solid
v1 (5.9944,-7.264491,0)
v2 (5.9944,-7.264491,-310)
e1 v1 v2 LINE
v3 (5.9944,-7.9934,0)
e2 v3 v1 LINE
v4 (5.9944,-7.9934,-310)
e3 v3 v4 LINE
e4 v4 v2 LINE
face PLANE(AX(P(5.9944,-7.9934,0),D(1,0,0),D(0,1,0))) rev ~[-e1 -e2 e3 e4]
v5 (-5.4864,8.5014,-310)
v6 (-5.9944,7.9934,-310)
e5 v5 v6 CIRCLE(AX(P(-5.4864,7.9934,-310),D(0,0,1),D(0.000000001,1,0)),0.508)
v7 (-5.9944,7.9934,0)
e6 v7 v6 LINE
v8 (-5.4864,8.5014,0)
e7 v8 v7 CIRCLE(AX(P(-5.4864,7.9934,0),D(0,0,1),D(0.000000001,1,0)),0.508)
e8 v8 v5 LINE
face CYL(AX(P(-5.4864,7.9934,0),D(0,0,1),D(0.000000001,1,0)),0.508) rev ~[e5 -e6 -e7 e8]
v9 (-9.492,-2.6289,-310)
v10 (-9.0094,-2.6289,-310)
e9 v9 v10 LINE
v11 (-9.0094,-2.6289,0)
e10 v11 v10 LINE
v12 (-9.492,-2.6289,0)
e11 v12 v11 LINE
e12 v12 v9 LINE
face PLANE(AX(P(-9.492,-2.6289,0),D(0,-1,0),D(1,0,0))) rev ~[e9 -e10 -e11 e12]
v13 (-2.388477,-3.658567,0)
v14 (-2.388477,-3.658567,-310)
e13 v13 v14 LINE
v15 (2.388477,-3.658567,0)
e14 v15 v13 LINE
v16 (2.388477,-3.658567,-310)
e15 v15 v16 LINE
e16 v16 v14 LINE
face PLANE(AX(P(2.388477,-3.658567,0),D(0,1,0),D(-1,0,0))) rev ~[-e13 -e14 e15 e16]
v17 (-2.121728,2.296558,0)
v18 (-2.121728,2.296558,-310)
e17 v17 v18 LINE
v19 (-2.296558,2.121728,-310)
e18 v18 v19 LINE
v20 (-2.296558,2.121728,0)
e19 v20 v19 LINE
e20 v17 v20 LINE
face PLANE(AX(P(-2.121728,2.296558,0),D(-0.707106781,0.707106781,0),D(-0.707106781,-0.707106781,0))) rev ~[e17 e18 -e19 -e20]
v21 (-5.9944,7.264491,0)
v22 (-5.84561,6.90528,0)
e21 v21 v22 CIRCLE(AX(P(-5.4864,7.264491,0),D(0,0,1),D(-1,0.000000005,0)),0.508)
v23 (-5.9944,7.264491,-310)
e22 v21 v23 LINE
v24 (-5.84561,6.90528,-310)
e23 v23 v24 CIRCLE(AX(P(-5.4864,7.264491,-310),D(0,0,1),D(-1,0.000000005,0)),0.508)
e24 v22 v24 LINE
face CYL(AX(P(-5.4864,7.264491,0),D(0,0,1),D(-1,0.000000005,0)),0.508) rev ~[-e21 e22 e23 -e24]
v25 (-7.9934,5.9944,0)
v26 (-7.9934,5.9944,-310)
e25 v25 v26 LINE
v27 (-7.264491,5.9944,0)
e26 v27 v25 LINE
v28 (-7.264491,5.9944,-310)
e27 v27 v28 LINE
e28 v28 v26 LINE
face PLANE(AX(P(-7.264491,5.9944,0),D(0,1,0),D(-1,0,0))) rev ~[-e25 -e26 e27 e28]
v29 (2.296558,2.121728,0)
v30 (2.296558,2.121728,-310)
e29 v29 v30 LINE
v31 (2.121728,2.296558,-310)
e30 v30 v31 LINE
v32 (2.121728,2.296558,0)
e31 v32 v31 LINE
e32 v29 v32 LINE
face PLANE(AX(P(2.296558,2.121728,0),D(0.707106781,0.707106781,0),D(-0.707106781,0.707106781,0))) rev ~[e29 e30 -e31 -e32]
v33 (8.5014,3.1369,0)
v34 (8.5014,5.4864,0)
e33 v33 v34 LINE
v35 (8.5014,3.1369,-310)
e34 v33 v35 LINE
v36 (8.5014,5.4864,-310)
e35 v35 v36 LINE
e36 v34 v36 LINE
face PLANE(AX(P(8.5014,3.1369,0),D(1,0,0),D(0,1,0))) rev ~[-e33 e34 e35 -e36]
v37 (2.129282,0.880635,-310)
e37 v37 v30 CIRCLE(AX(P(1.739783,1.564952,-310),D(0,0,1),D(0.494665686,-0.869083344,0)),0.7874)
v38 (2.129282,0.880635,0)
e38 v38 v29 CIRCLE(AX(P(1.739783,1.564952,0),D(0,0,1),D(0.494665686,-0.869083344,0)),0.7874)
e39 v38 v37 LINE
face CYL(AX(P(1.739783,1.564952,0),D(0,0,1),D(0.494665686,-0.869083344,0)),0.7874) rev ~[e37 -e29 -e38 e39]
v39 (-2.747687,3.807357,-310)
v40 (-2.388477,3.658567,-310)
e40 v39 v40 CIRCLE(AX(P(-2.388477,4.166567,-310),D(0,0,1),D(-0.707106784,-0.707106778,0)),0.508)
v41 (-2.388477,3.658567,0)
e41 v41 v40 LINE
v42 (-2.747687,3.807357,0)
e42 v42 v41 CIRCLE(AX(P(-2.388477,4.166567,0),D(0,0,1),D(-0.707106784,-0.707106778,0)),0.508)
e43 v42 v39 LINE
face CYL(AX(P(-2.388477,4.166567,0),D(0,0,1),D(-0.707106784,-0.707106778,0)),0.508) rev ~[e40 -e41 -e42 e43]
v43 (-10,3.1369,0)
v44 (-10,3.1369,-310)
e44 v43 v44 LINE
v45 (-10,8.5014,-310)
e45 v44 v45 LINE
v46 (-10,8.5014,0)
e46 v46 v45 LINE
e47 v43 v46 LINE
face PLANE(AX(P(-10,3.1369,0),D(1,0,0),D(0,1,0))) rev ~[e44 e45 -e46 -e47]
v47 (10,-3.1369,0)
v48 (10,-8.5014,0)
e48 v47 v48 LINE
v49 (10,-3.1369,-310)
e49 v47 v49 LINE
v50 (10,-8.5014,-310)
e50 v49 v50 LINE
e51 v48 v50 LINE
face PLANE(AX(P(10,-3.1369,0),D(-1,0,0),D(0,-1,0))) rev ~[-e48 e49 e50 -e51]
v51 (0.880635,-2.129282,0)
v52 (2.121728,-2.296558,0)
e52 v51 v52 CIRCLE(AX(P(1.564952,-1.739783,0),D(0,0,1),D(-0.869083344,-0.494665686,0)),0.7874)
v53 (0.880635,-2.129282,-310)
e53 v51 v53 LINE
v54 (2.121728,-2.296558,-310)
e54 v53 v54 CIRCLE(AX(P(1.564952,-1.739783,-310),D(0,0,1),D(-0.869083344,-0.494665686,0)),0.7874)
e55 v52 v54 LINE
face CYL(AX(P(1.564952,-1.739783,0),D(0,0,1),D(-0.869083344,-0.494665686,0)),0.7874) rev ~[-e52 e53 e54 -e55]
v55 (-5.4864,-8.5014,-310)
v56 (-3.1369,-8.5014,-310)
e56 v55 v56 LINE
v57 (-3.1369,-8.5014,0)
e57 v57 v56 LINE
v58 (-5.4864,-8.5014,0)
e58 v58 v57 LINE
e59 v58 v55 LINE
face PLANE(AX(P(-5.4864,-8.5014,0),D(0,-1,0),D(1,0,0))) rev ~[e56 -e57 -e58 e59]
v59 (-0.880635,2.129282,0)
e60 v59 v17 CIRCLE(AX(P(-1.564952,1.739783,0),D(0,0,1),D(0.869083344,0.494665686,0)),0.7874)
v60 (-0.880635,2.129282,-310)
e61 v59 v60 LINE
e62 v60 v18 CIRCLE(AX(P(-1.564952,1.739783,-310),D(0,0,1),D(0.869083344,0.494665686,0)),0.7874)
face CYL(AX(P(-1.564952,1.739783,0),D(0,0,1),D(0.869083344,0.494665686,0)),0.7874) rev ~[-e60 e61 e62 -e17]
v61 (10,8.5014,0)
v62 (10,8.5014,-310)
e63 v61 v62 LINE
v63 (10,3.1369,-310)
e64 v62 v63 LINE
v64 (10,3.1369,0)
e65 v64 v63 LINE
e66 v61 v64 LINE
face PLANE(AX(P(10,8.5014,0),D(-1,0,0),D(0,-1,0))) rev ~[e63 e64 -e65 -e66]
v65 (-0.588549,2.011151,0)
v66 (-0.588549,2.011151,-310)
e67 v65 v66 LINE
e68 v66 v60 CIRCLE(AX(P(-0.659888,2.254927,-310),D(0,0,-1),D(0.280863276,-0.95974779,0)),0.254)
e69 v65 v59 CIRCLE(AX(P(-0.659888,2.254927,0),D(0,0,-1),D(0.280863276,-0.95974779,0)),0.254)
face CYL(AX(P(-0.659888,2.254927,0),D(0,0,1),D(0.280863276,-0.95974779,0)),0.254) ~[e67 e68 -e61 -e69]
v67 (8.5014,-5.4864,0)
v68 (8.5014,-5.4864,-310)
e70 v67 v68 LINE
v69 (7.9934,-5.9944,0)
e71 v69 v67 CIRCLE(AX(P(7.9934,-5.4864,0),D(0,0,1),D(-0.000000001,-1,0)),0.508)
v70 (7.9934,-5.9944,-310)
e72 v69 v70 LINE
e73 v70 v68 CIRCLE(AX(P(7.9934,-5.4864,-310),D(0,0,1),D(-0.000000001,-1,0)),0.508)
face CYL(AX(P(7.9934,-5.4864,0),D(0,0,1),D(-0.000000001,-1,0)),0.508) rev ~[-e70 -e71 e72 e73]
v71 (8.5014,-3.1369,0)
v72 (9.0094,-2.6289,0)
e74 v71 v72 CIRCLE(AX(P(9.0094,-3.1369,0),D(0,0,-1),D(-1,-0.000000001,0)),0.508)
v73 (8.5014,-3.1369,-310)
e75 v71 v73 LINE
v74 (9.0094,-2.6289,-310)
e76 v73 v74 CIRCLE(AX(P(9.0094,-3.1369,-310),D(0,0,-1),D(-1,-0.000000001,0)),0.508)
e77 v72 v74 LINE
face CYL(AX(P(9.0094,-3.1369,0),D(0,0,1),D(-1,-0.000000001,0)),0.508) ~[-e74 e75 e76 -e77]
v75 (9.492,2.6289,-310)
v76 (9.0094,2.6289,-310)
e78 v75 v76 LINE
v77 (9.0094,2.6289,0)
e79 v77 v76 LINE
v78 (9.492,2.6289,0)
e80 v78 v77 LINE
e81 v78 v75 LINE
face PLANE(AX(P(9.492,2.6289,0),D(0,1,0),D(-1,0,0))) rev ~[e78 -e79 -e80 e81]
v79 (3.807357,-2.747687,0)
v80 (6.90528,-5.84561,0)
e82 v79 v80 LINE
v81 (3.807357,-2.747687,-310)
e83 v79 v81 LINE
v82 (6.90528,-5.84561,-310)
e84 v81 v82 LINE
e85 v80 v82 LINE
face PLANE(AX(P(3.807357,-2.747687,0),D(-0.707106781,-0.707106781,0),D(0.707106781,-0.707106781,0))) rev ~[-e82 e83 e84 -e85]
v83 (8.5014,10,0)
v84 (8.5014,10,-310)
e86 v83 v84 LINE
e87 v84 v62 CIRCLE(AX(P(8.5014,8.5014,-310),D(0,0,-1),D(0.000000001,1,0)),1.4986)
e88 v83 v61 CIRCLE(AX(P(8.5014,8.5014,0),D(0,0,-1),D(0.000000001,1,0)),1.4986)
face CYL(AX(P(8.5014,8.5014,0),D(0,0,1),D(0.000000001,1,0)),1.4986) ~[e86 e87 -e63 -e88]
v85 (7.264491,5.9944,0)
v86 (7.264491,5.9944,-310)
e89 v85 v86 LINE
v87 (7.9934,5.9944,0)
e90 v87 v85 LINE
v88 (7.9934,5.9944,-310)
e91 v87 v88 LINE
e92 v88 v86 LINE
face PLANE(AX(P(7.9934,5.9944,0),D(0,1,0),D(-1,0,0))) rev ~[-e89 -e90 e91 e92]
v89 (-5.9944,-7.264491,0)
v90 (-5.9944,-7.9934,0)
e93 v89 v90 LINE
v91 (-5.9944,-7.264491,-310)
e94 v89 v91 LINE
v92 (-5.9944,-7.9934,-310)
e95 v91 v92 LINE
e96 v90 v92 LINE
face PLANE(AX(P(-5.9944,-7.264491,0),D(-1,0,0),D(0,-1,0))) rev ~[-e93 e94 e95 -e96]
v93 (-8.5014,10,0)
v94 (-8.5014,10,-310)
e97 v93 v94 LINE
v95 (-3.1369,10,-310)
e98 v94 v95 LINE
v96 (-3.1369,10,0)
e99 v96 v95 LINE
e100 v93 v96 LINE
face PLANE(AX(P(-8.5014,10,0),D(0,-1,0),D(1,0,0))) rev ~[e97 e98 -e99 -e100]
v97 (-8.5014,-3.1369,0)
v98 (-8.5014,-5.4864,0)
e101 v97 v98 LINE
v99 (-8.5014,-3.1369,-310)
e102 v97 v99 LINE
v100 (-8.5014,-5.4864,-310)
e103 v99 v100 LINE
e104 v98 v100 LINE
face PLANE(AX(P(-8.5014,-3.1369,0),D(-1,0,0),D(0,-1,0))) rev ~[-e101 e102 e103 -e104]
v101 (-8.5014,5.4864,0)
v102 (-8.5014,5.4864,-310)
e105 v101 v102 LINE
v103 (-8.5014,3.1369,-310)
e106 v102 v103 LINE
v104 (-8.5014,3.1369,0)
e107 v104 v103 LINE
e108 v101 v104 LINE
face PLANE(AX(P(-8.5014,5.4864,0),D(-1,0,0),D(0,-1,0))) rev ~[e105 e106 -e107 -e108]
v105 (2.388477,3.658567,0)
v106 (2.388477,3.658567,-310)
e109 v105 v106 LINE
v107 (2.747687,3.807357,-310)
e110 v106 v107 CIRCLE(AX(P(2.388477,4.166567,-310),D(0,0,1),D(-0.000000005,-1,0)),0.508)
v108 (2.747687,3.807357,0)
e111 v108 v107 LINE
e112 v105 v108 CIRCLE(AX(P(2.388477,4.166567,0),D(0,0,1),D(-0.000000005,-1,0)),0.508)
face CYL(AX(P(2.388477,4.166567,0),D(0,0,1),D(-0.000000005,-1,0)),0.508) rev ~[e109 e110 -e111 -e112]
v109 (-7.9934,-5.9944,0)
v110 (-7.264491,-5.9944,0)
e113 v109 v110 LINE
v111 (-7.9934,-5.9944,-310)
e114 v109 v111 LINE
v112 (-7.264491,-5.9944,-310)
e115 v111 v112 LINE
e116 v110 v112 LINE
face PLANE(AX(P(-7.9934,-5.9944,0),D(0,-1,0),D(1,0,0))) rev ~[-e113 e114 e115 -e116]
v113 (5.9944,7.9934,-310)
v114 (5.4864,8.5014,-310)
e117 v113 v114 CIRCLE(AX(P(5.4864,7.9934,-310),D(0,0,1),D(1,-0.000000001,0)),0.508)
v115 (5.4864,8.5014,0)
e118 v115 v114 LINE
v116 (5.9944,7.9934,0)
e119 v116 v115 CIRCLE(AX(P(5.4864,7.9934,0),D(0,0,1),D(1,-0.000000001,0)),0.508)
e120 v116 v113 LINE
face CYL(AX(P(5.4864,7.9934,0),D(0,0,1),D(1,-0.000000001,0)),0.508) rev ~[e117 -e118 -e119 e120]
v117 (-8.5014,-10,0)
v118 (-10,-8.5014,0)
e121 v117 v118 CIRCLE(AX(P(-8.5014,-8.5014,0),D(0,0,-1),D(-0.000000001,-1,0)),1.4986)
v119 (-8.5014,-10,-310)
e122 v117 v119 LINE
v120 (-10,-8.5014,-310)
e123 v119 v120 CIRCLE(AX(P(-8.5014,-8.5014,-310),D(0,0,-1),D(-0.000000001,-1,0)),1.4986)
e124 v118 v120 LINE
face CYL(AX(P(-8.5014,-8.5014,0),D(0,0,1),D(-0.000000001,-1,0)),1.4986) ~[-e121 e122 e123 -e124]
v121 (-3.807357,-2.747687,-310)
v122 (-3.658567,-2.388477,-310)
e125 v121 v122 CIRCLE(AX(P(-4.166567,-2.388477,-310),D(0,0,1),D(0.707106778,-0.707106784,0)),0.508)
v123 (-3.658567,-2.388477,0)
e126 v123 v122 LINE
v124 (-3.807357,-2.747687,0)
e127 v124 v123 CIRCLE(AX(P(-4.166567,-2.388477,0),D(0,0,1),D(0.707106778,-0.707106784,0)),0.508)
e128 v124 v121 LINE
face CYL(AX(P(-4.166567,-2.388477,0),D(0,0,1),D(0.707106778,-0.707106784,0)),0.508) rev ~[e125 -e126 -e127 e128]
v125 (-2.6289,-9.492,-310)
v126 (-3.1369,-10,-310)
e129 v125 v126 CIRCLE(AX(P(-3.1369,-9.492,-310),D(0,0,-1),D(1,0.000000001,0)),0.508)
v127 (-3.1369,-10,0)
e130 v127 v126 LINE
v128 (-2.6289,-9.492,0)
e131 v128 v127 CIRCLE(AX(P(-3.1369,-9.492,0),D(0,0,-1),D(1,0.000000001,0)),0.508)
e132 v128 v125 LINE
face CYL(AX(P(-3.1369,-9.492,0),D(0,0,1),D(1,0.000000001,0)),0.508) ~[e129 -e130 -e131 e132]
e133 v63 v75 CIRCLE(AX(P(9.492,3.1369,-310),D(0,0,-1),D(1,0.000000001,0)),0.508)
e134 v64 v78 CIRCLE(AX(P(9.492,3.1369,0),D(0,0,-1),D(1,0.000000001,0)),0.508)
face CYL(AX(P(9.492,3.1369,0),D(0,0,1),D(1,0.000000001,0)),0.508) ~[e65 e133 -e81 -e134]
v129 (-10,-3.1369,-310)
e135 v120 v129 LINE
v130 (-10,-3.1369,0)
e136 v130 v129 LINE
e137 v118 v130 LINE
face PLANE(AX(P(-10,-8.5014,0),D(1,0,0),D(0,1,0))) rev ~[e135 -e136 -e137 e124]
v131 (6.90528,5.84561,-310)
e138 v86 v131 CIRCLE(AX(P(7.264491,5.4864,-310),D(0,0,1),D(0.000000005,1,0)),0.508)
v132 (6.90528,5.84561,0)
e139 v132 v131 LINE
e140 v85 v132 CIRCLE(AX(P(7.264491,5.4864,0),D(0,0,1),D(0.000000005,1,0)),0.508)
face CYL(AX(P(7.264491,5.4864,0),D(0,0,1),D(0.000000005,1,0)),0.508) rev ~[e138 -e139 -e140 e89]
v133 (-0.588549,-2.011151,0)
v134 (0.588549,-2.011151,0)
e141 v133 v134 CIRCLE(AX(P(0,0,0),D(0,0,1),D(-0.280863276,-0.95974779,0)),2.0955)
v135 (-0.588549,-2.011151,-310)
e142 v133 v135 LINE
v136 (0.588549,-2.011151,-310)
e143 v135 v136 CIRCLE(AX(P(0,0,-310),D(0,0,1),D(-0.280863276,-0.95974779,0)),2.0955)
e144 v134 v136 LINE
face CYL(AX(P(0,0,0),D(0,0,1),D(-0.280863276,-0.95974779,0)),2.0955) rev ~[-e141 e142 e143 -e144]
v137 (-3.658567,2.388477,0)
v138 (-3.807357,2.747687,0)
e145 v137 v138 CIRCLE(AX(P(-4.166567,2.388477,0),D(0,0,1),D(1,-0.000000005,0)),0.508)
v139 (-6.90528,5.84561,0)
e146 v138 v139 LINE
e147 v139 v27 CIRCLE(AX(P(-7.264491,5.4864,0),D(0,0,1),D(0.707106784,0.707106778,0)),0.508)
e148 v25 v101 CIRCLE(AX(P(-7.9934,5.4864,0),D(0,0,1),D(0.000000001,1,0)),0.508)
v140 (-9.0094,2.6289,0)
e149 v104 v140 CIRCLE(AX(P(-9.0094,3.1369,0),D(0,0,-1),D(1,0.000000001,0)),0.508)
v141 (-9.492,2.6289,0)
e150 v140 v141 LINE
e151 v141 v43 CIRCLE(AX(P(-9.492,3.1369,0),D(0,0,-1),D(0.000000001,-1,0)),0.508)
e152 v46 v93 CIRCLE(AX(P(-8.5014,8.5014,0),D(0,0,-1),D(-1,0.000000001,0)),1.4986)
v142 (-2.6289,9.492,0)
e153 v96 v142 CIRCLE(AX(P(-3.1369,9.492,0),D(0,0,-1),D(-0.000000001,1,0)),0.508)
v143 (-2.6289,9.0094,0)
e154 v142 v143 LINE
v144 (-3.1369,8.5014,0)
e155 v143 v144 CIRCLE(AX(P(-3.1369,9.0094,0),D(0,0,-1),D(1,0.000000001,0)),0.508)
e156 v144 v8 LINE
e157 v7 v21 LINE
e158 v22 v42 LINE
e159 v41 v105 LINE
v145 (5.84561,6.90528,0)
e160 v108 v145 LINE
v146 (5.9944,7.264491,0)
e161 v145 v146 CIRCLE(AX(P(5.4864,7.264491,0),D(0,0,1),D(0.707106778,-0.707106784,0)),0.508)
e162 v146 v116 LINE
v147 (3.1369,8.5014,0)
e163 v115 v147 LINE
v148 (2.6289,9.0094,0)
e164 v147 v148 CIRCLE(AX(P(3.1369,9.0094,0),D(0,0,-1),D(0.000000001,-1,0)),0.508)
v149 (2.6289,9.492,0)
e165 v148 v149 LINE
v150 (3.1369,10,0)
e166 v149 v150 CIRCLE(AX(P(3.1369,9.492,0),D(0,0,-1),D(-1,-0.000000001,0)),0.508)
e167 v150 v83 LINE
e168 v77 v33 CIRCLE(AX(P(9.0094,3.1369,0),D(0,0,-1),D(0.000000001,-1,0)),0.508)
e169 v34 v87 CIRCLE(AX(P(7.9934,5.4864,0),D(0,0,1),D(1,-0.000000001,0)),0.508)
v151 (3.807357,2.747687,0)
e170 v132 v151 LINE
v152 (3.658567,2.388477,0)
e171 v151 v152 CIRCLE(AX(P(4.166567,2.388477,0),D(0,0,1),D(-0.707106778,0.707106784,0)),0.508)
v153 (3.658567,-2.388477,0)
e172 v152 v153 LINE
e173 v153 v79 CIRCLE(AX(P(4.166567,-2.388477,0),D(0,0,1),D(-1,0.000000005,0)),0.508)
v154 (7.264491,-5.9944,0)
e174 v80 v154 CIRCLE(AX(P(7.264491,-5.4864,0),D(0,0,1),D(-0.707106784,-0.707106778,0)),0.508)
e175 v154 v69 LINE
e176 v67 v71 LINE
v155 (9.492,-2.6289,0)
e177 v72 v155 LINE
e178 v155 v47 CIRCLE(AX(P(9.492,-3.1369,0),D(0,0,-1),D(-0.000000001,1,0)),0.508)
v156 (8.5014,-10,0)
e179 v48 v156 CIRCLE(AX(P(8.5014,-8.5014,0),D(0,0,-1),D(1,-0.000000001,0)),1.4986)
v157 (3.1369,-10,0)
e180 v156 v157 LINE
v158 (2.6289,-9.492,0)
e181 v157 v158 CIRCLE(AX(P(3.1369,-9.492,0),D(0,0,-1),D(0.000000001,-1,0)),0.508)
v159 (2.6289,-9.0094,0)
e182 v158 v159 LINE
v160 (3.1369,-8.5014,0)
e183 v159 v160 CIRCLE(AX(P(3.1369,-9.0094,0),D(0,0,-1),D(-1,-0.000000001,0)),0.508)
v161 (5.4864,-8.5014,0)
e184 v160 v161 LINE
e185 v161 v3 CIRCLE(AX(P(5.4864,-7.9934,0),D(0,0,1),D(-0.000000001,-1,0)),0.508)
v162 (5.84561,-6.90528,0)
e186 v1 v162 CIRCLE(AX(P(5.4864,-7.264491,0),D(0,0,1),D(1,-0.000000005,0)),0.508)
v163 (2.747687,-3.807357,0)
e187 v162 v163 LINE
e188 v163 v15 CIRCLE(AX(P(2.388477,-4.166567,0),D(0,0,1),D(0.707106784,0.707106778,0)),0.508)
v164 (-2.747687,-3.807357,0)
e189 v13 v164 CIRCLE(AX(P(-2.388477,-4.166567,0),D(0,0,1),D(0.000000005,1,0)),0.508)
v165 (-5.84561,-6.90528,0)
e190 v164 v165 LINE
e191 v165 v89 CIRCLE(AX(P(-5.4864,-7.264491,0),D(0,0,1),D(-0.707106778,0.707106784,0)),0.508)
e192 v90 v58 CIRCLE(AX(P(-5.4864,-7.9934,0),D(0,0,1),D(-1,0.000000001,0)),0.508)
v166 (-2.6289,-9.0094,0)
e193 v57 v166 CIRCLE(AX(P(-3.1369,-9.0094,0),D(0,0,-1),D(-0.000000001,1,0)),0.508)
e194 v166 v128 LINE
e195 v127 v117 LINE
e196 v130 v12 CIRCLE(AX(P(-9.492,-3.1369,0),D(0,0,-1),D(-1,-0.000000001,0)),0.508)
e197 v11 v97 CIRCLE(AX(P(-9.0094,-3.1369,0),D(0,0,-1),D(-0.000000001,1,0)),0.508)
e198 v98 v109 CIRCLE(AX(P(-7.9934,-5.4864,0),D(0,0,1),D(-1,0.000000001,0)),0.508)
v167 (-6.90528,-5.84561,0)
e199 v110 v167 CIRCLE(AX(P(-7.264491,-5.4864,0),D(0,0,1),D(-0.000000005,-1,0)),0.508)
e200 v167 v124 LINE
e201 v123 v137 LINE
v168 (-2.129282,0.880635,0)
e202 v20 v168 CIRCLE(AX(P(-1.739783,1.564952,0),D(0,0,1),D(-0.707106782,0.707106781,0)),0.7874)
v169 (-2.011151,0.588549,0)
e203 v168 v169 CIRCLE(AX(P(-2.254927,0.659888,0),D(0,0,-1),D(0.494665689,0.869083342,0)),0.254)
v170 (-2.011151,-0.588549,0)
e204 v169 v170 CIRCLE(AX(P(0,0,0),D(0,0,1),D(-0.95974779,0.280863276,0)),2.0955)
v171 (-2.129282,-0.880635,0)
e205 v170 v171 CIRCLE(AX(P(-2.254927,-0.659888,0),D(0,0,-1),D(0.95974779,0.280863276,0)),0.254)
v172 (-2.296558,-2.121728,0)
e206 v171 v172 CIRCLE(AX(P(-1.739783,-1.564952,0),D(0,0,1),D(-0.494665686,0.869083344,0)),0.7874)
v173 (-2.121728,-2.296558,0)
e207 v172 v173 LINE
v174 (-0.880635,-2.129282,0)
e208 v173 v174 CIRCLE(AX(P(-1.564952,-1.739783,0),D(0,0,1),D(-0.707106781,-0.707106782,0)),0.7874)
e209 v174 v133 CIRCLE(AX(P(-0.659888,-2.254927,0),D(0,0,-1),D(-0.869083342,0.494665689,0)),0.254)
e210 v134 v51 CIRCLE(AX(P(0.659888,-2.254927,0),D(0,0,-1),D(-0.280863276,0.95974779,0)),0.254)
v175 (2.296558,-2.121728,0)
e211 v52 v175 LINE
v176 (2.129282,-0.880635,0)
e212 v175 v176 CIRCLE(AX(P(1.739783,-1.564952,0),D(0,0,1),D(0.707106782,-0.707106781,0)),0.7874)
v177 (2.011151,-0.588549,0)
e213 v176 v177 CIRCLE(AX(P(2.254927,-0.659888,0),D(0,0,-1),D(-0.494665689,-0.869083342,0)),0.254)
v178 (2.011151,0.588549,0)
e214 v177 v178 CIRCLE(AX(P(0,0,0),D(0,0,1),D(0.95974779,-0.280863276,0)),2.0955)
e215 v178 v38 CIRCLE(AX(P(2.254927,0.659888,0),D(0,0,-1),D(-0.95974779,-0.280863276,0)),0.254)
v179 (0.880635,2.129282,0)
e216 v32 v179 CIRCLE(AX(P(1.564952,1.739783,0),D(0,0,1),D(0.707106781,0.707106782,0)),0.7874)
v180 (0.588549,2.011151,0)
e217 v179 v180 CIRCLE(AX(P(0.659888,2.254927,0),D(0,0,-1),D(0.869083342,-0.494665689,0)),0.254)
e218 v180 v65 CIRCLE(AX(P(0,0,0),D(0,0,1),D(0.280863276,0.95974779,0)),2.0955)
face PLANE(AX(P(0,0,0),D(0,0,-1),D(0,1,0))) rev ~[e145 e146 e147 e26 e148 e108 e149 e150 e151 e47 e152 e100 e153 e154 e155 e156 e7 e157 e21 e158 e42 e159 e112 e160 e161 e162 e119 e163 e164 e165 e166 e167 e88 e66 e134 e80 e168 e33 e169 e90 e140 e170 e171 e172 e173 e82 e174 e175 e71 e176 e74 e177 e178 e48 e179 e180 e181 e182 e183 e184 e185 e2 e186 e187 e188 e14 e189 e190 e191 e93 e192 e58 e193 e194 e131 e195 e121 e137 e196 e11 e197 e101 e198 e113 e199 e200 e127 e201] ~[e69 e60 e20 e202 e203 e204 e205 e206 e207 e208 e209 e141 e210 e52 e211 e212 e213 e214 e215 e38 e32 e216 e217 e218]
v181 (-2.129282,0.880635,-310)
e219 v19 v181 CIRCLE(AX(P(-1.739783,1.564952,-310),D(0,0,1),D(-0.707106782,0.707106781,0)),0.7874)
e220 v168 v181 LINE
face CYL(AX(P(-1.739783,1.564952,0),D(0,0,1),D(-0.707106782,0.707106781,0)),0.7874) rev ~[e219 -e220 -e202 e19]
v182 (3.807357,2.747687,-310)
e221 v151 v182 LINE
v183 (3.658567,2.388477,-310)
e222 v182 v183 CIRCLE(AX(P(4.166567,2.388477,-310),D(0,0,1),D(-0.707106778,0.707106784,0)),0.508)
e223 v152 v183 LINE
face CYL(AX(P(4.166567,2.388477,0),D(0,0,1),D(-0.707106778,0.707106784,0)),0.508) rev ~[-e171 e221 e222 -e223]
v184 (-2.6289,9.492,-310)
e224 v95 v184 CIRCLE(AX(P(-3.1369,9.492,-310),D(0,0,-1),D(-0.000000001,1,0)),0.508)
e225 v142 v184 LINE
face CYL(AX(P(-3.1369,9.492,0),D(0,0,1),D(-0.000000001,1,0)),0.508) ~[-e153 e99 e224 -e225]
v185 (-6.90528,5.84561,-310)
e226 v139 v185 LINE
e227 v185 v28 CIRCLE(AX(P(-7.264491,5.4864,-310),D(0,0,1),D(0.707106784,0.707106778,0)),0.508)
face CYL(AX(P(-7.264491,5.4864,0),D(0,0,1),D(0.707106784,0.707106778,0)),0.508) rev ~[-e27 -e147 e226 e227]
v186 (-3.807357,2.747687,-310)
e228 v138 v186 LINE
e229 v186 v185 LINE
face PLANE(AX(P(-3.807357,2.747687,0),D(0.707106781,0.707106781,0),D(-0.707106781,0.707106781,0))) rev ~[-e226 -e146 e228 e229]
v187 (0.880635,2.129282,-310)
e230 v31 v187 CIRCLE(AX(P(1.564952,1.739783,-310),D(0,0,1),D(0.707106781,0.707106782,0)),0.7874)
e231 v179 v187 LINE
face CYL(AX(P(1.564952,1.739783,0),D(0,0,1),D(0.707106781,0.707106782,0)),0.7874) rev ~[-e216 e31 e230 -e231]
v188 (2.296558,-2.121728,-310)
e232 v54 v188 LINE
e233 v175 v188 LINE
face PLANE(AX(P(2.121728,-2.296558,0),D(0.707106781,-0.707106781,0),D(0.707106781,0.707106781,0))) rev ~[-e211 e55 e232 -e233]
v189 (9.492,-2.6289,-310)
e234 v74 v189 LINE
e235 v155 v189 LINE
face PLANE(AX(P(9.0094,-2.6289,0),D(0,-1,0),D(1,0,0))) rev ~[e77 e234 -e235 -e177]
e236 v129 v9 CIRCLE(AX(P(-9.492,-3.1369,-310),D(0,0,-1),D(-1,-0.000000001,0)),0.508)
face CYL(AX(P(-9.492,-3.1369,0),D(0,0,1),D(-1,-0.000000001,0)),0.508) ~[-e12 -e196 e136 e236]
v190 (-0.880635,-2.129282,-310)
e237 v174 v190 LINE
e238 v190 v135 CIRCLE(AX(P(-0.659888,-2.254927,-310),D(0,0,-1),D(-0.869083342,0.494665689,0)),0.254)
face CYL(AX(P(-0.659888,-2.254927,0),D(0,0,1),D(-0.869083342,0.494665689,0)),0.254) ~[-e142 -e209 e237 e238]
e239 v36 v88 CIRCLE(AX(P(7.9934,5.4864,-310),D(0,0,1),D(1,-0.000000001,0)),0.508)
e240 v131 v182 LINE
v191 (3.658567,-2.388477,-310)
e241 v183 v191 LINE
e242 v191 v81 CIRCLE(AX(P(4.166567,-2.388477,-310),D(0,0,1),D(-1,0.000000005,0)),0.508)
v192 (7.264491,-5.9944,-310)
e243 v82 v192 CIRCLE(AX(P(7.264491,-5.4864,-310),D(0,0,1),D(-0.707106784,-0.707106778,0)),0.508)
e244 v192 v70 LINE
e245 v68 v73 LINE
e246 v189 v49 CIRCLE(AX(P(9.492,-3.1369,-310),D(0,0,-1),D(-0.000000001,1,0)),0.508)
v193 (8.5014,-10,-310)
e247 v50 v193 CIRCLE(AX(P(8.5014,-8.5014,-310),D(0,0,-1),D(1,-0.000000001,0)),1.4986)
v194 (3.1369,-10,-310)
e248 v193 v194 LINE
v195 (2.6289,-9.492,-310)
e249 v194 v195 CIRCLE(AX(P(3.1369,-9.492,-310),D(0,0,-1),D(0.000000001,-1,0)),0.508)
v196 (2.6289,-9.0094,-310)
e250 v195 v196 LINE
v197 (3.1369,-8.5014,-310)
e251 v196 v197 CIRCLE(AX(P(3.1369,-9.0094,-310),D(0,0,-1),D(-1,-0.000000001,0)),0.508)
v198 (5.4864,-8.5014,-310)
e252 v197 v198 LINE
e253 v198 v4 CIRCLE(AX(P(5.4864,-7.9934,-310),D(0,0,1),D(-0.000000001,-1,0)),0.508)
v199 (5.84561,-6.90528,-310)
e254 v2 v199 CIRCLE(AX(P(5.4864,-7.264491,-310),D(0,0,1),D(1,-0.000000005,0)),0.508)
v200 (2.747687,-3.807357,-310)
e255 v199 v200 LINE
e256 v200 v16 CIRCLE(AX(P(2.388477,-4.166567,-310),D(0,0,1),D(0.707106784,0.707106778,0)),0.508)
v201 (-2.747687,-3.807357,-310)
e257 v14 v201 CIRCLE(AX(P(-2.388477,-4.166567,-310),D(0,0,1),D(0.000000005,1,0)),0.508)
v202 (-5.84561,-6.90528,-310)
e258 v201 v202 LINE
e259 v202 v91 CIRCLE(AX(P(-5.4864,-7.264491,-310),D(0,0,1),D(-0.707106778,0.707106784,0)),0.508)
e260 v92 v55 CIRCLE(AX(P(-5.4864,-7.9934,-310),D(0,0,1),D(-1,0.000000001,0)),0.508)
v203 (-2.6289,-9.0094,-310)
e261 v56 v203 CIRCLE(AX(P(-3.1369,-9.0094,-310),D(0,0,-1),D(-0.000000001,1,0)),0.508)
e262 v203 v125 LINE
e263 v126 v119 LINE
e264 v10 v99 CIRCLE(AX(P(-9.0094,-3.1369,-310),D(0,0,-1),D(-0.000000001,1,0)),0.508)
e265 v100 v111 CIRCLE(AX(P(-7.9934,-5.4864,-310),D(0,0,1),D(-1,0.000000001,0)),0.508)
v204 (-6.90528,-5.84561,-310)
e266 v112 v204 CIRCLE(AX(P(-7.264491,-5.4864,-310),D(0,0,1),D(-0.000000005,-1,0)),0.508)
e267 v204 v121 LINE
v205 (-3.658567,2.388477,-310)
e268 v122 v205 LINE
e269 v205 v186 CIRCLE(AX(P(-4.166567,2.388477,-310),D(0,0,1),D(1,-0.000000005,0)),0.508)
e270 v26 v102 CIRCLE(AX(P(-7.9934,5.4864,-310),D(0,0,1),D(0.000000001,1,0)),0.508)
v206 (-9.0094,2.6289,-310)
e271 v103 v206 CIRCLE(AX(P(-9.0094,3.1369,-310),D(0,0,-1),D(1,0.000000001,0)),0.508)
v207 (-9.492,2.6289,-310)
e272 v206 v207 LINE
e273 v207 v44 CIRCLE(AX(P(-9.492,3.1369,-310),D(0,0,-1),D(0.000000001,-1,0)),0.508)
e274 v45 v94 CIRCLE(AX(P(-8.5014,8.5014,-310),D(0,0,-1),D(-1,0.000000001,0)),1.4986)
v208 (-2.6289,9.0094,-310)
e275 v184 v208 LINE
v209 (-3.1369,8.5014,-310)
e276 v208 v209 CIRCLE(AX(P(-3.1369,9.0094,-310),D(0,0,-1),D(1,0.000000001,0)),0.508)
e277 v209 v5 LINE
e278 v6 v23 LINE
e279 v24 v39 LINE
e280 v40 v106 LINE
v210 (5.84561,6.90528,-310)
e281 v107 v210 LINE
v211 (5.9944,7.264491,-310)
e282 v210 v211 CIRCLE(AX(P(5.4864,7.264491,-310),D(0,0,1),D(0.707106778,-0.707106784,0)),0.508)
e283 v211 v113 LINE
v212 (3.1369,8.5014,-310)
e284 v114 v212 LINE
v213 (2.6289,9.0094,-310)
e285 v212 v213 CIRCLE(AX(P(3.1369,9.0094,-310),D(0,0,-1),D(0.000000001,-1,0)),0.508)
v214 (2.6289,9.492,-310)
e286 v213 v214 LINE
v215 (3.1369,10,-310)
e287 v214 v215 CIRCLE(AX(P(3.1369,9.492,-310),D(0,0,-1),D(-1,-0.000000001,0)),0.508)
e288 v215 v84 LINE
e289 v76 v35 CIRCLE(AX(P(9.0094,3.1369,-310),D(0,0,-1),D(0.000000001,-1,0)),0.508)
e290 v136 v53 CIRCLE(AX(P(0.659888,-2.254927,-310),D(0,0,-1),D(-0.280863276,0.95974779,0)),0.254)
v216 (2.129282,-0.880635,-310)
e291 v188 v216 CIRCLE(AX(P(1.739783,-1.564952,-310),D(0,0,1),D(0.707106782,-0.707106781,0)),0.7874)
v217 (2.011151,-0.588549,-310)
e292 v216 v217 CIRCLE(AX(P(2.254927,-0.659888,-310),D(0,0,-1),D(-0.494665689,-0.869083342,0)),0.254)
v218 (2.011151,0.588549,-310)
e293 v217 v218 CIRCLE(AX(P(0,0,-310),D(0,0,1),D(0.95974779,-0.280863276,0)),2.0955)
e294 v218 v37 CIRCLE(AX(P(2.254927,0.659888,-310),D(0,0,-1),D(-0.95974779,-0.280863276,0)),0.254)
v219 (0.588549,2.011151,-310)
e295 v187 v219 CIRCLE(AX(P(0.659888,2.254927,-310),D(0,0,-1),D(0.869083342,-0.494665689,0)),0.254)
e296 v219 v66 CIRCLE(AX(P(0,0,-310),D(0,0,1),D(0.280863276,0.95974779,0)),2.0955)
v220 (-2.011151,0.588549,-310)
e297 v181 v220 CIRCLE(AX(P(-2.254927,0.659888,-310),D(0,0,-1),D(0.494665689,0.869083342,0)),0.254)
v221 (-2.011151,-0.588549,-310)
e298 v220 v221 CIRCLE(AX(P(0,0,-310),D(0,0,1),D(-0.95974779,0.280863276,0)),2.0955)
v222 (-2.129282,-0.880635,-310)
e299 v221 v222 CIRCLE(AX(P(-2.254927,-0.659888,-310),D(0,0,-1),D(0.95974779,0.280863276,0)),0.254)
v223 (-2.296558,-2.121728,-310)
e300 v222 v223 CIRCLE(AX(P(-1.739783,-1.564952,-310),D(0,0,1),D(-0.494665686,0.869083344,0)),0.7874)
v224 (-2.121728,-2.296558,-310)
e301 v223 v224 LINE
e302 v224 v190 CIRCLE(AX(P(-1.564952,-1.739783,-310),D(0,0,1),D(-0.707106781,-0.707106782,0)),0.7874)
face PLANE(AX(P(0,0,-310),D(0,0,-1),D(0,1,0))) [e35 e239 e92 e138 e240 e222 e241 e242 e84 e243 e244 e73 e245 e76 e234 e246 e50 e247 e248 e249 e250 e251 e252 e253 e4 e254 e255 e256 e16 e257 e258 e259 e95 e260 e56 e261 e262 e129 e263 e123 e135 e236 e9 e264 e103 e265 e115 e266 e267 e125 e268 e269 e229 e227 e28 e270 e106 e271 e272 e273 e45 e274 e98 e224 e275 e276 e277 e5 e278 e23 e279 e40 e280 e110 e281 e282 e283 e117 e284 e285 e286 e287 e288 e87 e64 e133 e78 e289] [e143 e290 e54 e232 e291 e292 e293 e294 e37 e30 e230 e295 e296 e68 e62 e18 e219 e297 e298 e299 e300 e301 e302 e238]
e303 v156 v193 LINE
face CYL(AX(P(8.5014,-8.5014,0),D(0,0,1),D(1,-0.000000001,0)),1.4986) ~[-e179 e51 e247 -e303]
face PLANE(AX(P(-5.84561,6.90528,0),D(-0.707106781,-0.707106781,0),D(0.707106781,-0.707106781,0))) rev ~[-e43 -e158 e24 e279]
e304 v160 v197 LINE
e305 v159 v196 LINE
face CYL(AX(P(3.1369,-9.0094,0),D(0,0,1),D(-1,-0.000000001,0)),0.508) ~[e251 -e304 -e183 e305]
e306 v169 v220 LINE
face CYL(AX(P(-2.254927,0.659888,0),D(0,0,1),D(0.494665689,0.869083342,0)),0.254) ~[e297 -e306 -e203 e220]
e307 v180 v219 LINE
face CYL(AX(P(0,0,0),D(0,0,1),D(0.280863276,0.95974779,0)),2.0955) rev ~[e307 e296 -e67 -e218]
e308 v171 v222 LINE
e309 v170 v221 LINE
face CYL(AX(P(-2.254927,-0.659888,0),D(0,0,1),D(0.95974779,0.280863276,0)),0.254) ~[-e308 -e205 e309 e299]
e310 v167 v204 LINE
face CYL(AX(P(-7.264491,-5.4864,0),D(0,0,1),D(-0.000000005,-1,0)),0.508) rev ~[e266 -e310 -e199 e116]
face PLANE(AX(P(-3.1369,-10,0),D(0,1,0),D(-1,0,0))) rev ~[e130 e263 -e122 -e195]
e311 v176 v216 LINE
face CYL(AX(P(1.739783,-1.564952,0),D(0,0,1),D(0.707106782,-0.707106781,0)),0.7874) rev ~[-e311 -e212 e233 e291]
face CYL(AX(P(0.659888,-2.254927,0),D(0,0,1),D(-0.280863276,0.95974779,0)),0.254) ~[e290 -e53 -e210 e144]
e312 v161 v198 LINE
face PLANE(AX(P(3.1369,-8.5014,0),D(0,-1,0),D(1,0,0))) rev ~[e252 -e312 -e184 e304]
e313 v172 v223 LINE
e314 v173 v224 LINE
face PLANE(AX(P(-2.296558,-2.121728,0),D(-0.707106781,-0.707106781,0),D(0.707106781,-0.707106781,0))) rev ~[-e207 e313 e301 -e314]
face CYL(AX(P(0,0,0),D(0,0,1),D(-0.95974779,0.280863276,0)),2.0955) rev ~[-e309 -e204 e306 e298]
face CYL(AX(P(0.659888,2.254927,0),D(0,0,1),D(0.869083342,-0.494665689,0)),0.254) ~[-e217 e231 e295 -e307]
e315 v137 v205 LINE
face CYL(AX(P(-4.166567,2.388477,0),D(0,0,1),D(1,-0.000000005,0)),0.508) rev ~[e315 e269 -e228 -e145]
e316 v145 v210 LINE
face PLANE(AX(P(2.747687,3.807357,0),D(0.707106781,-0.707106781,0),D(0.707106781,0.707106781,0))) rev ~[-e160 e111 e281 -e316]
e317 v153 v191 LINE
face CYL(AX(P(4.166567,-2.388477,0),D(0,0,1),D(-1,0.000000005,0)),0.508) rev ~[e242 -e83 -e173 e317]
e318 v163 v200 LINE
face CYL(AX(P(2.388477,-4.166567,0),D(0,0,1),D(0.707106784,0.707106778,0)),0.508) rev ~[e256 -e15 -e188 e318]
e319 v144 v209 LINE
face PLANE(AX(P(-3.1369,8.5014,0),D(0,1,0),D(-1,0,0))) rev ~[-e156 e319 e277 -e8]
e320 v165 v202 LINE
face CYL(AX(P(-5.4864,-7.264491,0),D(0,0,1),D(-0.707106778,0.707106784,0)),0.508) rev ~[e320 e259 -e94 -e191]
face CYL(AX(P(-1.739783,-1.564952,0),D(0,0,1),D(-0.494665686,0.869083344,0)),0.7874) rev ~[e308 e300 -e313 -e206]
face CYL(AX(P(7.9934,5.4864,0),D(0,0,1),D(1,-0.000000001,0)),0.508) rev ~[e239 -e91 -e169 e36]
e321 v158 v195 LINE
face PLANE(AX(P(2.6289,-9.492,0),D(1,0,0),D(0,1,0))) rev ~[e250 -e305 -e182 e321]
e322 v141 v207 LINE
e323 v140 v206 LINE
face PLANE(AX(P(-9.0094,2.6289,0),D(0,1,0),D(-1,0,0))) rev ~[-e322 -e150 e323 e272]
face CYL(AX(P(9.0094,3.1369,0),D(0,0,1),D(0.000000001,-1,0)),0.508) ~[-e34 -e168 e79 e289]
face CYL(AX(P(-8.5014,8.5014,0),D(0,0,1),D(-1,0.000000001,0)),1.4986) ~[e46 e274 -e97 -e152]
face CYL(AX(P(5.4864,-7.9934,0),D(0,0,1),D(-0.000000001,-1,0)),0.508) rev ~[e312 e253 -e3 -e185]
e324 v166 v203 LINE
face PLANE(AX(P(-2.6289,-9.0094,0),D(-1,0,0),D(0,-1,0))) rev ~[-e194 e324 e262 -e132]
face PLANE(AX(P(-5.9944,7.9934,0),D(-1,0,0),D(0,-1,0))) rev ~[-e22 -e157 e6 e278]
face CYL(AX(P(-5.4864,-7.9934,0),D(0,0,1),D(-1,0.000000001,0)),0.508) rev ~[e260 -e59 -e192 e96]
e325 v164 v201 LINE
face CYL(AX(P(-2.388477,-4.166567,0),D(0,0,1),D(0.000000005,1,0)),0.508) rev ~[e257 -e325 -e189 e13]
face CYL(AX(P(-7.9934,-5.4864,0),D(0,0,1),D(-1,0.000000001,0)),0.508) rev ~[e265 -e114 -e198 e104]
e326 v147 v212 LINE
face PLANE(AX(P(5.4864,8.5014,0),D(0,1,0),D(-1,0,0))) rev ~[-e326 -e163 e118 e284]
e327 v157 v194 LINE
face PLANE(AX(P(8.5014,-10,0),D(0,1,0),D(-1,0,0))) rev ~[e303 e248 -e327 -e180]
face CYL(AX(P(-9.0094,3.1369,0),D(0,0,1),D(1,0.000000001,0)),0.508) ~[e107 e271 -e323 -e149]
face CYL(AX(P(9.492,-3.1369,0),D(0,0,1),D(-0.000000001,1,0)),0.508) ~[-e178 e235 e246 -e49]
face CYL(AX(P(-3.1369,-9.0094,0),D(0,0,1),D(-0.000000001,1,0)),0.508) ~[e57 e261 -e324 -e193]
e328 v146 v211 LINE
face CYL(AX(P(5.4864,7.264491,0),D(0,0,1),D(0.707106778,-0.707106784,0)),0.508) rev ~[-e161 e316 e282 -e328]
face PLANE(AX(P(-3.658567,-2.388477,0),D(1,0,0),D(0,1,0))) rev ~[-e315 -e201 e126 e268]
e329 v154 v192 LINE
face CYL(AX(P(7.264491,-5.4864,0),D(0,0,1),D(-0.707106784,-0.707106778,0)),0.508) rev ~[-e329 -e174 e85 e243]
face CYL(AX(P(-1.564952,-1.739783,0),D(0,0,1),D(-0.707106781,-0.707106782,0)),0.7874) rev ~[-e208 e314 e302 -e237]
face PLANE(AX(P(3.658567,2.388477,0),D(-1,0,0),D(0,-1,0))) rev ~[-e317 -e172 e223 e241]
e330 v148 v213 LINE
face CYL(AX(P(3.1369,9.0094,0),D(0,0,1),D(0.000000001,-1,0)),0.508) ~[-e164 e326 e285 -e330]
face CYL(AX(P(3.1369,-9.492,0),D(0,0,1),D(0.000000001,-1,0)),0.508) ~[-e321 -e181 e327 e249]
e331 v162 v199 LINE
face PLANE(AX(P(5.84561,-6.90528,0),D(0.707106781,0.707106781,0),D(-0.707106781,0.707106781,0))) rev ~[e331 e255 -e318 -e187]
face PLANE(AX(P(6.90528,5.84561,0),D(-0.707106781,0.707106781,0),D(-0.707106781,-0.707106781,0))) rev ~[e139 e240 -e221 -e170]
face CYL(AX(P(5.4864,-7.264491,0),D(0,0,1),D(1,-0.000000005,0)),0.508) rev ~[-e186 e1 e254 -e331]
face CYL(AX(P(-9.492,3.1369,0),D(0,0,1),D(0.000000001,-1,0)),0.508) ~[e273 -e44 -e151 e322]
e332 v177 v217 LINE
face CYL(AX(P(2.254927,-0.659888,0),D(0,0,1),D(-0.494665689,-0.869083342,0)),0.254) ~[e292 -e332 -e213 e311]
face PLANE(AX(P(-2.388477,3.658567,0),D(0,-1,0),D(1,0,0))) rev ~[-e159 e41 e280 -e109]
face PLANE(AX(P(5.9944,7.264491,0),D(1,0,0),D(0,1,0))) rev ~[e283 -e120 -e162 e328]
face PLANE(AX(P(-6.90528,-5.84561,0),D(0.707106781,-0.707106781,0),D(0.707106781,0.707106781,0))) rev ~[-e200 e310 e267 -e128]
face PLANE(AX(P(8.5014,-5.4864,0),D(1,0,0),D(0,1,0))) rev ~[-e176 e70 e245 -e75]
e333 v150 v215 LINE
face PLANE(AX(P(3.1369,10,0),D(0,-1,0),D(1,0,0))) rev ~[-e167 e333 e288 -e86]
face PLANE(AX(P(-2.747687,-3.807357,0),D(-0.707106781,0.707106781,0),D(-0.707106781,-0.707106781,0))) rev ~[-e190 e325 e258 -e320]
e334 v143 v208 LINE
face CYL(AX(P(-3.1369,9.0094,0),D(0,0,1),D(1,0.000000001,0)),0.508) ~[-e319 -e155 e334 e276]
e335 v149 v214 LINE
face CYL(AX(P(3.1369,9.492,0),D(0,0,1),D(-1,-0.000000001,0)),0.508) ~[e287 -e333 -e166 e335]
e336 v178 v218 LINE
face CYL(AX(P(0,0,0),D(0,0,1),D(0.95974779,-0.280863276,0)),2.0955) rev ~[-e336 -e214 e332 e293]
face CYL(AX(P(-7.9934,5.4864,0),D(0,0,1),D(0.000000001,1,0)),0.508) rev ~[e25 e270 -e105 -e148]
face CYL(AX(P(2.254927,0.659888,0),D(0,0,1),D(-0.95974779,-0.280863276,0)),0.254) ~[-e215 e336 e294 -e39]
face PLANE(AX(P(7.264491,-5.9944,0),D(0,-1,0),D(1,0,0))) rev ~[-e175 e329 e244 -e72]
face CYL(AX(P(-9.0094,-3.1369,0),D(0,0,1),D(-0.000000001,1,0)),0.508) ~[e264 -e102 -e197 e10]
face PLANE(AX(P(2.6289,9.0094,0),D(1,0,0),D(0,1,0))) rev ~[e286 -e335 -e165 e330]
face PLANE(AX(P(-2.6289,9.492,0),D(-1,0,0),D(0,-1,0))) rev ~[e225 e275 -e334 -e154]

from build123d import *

# Parameters (mm, degrees)
F_20_SERIES_20_2020_1_DEPTH = 310


with BuildPart() as part:
    # Sketch11 → 20_series 20-2020(1) (new body)
    with BuildSketch(Plane.YX):
        with BuildLine():
            Line((9.0094, 2.6289), (9.492, 2.6289))
            ThreePointArc((9.492, 2.6289), (9.851210245, 2.777689755), (10, 3.1369))
            Line((10, 3.1369), (10, 8.5014))
            ThreePointArc((10, 8.5014), (9.561070222, 9.561070222), (8.5014, 10))
            Line((8.5014, 10), (3.1369, 10))
            ThreePointArc((3.1369, 10), (2.777689755, 9.851210245), (2.6289, 9.492))
            Line((2.6289, 9.492), (2.6289, 9.0094))
            ThreePointArc((2.6289, 9.0094), (2.777689755, 8.650189755), (3.1369, 8.5014))
            Line((3.1369, 8.5014), (5.4864, 8.5014))
            ThreePointArc((5.4864, 8.5014), (5.845610245, 8.352610245), (5.9944, 7.9934))
            Line((5.9944, 7.9934), (5.9944, 7.264490712))
            ThreePointArc((5.9944, 7.264490712), (5.955730803, 7.070087528), (5.845610245, 6.905280467))
            Line((5.845610245, 6.905280467), (2.747686782, 3.807357004))
            ThreePointArc((2.747686782, 3.807357004), (2.582879721, 3.697236446), (2.388476537, 3.658567249))
            Line((2.388476537, 3.658567249), (-2.388476537, 3.658567249))
            ThreePointArc((-2.388476537, 3.658567249), (-2.582879721, 3.697236446), (-2.747686782, 3.807357004))
            Line((-2.747686782, 3.807357004), (-5.845610245, 6.905280467))
            ThreePointArc((-5.845610245, 6.905280467), (-5.955730803, 7.070087528), (-5.9944, 7.264490712))
            Line((-5.9944, 7.264490712), (-5.9944, 7.9934))
            ThreePointArc((-5.9944, 7.9934), (-5.845610245, 8.352610245), (-5.4864, 8.5014))
            Line((-5.4864, 8.5014), (-3.1369, 8.5014))
            ThreePointArc((-3.1369, 8.5014), (-2.777689755, 8.650189755), (-2.6289, 9.0094))
            Line((-2.6289, 9.0094), (-2.6289, 9.492))
            ThreePointArc((-2.6289, 9.492), (-2.777689755, 9.851210245), (-3.1369, 10))
            Line((-3.1369, 10), (-8.5014, 10))
            ThreePointArc((-8.5014, 10), (-9.561070222, 9.561070222), (-10, 8.5014))
            Line((-10, 8.5014), (-10, 3.1369))
            ThreePointArc((-10, 3.1369), (-9.851210245, 2.777689755), (-9.492, 2.6289))
            Line((-9.492, 2.6289), (-9.0094, 2.6289))
            ThreePointArc((-9.0094, 2.6289), (-8.650189755, 2.777689755), (-8.5014, 3.1369))
            Line((-8.5014, 3.1369), (-8.5014, 5.4864))
            ThreePointArc((-8.5014, 5.4864), (-8.352610245, 5.845610245), (-7.9934, 5.9944))
            Line((-7.9934, 5.9944), (-7.264490712, 5.9944))
            ThreePointArc((-7.264490712, 5.9944), (-7.070087528, 5.955730803), (-6.905280467, 5.845610245))
            Line((-6.905280467, 5.845610245), (-3.807357004, 2.747686782))
            ThreePointArc((-3.807357004, 2.747686782), (-3.697236446, 2.582879721), (-3.658567249, 2.388476537))
            Line((-3.658567249, 2.388476537), (-3.658567249, -2.388476537))
            ThreePointArc((-3.658567249, -2.388476537), (-3.697236446, -2.582879721), (-3.807357004, -2.747686782))
            Line((-3.807357004, -2.747686782), (-6.905280467, -5.845610245))
            ThreePointArc((-6.905280467, -5.845610245), (-7.070087528, -5.955730803), (-7.264490712, -5.9944))
            Line((-7.264490712, -5.9944), (-7.9934, -5.9944))
            ThreePointArc((-7.9934, -5.9944), (-8.352610245, -5.845610245), (-8.5014, -5.4864))
            Line((-8.5014, -5.4864), (-8.5014, -3.1369))
            ThreePointArc((-8.5014, -3.1369), (-8.650189755, -2.777689755), (-9.0094, -2.6289))
            Line((-9.0094, -2.6289), (-9.492, -2.6289))
            ThreePointArc((-9.492, -2.6289), (-9.851210245, -2.777689755), (-10, -3.1369))
            Line((-10, -3.1369), (-10, -8.5014))
            ThreePointArc((-10, -8.5014), (-9.561070222, -9.561070222), (-8.5014, -10))
            Line((-8.5014, -10), (-3.1369, -10))
            ThreePointArc((-3.1369, -10), (-2.777689755, -9.851210245), (-2.6289, -9.492))
            Line((-2.6289, -9.492), (-2.6289, -9.0094))
            ThreePointArc((-2.6289, -9.0094), (-2.777689755, -8.650189755), (-3.1369, -8.5014))
            Line((-3.1369, -8.5014), (-5.4864, -8.5014))
            ThreePointArc((-5.4864, -8.5014), (-5.845610245, -8.352610245), (-5.9944, -7.9934))
            Line((-5.9944, -7.9934), (-5.9944, -7.264490712))
            ThreePointArc((-5.9944, -7.264490712), (-5.955730803, -7.070087528), (-5.845610245, -6.905280467))
            Line((-5.845610245, -6.905280467), (-2.747686782, -3.807357004))
            ThreePointArc((-2.747686782, -3.807357004), (-2.582879721, -3.697236446), (-2.388476537, -3.658567249))
            Line((-2.388476537, -3.658567249), (2.388476537, -3.658567249))
            ThreePointArc((2.388476537, -3.658567249), (2.582879721, -3.697236446), (2.747686782, -3.807357004))
            Line((2.747686782, -3.807357004), (5.845610245, -6.905280467))
            ThreePointArc((5.845610245, -6.905280467), (5.955730803, -7.070087528), (5.9944, -7.264490712))
            Line((5.9944, -7.264490712), (5.9944, -7.9934))
            ThreePointArc((5.9944, -7.9934), (5.845610245, -8.352610245), (5.4864, -8.5014))
            Line((5.4864, -8.5014), (3.1369, -8.5014))
            ThreePointArc((3.1369, -8.5014), (2.777689755, -8.650189755), (2.6289, -9.0094))
            Line((2.6289, -9.0094), (2.6289, -9.492))
            ThreePointArc((2.6289, -9.492), (2.777689755, -9.851210245), (3.1369, -10))
            Line((3.1369, -10), (8.5014, -10))
            ThreePointArc((8.5014, -10), (9.561070222, -9.561070222), (10, -8.5014))
            Line((10, -8.5014), (10, -3.1369))
            ThreePointArc((10, -3.1369), (9.851210245, -2.777689755), (9.492, -2.6289))
            Line((9.492, -2.6289), (9.0094, -2.6289))
            ThreePointArc((9.0094, -2.6289), (8.650189755, -2.777689755), (8.5014, -3.1369))
            Line((8.5014, -3.1369), (8.5014, -5.4864))
            ThreePointArc((8.5014, -5.4864), (8.352610245, -5.845610245), (7.9934, -5.9944))
            Line((7.9934, -5.9944), (7.264490712, -5.9944))
            ThreePointArc((7.264490712, -5.9944), (7.070087528, -5.955730803), (6.905280467, -5.845610245))
            Line((6.905280467, -5.845610245), (3.807357004, -2.747686782))
            ThreePointArc((3.807357004, -2.747686782), (3.697236446, -2.582879721), (3.658567249, -2.388476537))
            Line((3.658567249, -2.388476537), (3.658567249, 2.388476537))
            ThreePointArc((3.658567249, 2.388476537), (3.697236446, 2.582879721), (3.807357004, 2.747686782))
            Line((3.807357004, 2.747686782), (6.905280467, 5.845610245))
            ThreePointArc((6.905280467, 5.845610245), (7.070087528, 5.955730803), (7.264490712, 5.9944))
            Line((7.264490712, 5.9944), (7.9934, 5.9944))
            ThreePointArc((7.9934, 5.9944), (8.352610245, 5.845610245), (8.5014, 5.4864))
            Line((8.5014, 5.4864), (8.5014, 3.1369))
            ThreePointArc((8.5014, 3.1369), (8.650189755, 2.777689755), (9.0094, 2.6289))
        make_face()
        with BuildLine():
            Line((-2.296558466, 2.121727546), (-2.121727546, 2.296558466))
            ThreePointArc((-2.121727546, 2.296558466), (-1.459775814, 2.520126613), (-0.880635441, 2.129282347))
            ThreePointArc((-0.880635441, 2.129282347), (-0.755121693, 2.019456424), (-0.588548999, 2.011151493))
            ThreePointArc((-0.588548999, 2.011151493), (0, 2.0955), (0.588548999, 2.011151493))
            ThreePointArc((0.588548999, 2.011151493), (0.755121693, 2.019456424), (0.880635441, 2.129282347))
            ThreePointArc((0.880635441, 2.129282347), (1.459775814, 2.520126613), (2.121727546, 2.296558466))
            Line((2.121727546, 2.296558466), (2.296558466, 2.121727546))
            ThreePointArc((2.296558466, 2.121727546), (2.520126613, 1.459775814), (2.129282347, 0.880635441))
            ThreePointArc((2.129282347, 0.880635441), (2.019456424, 0.755121693), (2.011151493, 0.588548999))
            ThreePointArc((2.011151493, 0.588548999), (2.0955, 0), (2.011151493, -0.588548999))
            ThreePointArc((2.011151493, -0.588548999), (2.019456424, -0.755121693), (2.129282347, -0.880635441))
            ThreePointArc((2.129282347, -0.880635441), (2.520126613, -1.459775814), (2.296558466, -2.121727546))
            Line((2.296558466, -2.121727546), (2.121727546, -2.296558466))
            ThreePointArc((2.121727546, -2.296558466), (1.459775814, -2.520126613), (0.880635441, -2.129282347))
            ThreePointArc((0.880635441, -2.129282347), (0.755121693, -2.019456424), (0.588548999, -2.011151493))
            ThreePointArc((0.588548999, -2.011151493), (0, -2.0955), (-0.588548999, -2.011151493))
            ThreePointArc((-0.588548999, -2.011151493), (-0.755121693, -2.019456424), (-0.880635441, -2.129282347))
            ThreePointArc((-0.880635441, -2.129282347), (-1.459775814, -2.520126613), (-2.121727546, -2.296558466))
            Line((-2.121727546, -2.296558466), (-2.296558466, -2.121727546))
            ThreePointArc((-2.296558466, -2.121727546), (-2.520126613, -1.459775814), (-2.129282347, -0.880635441))
            ThreePointArc((-2.129282347, -0.880635441), (-2.019456424, -0.755121693), (-2.011151493, -0.588548999))
            ThreePointArc((-2.011151493, -0.588548999), (-2.0955, 0), (-2.011151493, 0.588548999))
            ThreePointArc((-2.011151493, 0.588548999), (-2.019456424, 0.755121693), (-2.129282347, 0.880635441))
            ThreePointArc((-2.129282347, 0.880635441), (-2.520126613, 1.459775814), (-2.296558466, 2.121727546))
        make_face(mode=Mode.SUBTRACT)
    extrude(amount=F_20_SERIES_20_2020_1_DEPTH)


solid = part.part
